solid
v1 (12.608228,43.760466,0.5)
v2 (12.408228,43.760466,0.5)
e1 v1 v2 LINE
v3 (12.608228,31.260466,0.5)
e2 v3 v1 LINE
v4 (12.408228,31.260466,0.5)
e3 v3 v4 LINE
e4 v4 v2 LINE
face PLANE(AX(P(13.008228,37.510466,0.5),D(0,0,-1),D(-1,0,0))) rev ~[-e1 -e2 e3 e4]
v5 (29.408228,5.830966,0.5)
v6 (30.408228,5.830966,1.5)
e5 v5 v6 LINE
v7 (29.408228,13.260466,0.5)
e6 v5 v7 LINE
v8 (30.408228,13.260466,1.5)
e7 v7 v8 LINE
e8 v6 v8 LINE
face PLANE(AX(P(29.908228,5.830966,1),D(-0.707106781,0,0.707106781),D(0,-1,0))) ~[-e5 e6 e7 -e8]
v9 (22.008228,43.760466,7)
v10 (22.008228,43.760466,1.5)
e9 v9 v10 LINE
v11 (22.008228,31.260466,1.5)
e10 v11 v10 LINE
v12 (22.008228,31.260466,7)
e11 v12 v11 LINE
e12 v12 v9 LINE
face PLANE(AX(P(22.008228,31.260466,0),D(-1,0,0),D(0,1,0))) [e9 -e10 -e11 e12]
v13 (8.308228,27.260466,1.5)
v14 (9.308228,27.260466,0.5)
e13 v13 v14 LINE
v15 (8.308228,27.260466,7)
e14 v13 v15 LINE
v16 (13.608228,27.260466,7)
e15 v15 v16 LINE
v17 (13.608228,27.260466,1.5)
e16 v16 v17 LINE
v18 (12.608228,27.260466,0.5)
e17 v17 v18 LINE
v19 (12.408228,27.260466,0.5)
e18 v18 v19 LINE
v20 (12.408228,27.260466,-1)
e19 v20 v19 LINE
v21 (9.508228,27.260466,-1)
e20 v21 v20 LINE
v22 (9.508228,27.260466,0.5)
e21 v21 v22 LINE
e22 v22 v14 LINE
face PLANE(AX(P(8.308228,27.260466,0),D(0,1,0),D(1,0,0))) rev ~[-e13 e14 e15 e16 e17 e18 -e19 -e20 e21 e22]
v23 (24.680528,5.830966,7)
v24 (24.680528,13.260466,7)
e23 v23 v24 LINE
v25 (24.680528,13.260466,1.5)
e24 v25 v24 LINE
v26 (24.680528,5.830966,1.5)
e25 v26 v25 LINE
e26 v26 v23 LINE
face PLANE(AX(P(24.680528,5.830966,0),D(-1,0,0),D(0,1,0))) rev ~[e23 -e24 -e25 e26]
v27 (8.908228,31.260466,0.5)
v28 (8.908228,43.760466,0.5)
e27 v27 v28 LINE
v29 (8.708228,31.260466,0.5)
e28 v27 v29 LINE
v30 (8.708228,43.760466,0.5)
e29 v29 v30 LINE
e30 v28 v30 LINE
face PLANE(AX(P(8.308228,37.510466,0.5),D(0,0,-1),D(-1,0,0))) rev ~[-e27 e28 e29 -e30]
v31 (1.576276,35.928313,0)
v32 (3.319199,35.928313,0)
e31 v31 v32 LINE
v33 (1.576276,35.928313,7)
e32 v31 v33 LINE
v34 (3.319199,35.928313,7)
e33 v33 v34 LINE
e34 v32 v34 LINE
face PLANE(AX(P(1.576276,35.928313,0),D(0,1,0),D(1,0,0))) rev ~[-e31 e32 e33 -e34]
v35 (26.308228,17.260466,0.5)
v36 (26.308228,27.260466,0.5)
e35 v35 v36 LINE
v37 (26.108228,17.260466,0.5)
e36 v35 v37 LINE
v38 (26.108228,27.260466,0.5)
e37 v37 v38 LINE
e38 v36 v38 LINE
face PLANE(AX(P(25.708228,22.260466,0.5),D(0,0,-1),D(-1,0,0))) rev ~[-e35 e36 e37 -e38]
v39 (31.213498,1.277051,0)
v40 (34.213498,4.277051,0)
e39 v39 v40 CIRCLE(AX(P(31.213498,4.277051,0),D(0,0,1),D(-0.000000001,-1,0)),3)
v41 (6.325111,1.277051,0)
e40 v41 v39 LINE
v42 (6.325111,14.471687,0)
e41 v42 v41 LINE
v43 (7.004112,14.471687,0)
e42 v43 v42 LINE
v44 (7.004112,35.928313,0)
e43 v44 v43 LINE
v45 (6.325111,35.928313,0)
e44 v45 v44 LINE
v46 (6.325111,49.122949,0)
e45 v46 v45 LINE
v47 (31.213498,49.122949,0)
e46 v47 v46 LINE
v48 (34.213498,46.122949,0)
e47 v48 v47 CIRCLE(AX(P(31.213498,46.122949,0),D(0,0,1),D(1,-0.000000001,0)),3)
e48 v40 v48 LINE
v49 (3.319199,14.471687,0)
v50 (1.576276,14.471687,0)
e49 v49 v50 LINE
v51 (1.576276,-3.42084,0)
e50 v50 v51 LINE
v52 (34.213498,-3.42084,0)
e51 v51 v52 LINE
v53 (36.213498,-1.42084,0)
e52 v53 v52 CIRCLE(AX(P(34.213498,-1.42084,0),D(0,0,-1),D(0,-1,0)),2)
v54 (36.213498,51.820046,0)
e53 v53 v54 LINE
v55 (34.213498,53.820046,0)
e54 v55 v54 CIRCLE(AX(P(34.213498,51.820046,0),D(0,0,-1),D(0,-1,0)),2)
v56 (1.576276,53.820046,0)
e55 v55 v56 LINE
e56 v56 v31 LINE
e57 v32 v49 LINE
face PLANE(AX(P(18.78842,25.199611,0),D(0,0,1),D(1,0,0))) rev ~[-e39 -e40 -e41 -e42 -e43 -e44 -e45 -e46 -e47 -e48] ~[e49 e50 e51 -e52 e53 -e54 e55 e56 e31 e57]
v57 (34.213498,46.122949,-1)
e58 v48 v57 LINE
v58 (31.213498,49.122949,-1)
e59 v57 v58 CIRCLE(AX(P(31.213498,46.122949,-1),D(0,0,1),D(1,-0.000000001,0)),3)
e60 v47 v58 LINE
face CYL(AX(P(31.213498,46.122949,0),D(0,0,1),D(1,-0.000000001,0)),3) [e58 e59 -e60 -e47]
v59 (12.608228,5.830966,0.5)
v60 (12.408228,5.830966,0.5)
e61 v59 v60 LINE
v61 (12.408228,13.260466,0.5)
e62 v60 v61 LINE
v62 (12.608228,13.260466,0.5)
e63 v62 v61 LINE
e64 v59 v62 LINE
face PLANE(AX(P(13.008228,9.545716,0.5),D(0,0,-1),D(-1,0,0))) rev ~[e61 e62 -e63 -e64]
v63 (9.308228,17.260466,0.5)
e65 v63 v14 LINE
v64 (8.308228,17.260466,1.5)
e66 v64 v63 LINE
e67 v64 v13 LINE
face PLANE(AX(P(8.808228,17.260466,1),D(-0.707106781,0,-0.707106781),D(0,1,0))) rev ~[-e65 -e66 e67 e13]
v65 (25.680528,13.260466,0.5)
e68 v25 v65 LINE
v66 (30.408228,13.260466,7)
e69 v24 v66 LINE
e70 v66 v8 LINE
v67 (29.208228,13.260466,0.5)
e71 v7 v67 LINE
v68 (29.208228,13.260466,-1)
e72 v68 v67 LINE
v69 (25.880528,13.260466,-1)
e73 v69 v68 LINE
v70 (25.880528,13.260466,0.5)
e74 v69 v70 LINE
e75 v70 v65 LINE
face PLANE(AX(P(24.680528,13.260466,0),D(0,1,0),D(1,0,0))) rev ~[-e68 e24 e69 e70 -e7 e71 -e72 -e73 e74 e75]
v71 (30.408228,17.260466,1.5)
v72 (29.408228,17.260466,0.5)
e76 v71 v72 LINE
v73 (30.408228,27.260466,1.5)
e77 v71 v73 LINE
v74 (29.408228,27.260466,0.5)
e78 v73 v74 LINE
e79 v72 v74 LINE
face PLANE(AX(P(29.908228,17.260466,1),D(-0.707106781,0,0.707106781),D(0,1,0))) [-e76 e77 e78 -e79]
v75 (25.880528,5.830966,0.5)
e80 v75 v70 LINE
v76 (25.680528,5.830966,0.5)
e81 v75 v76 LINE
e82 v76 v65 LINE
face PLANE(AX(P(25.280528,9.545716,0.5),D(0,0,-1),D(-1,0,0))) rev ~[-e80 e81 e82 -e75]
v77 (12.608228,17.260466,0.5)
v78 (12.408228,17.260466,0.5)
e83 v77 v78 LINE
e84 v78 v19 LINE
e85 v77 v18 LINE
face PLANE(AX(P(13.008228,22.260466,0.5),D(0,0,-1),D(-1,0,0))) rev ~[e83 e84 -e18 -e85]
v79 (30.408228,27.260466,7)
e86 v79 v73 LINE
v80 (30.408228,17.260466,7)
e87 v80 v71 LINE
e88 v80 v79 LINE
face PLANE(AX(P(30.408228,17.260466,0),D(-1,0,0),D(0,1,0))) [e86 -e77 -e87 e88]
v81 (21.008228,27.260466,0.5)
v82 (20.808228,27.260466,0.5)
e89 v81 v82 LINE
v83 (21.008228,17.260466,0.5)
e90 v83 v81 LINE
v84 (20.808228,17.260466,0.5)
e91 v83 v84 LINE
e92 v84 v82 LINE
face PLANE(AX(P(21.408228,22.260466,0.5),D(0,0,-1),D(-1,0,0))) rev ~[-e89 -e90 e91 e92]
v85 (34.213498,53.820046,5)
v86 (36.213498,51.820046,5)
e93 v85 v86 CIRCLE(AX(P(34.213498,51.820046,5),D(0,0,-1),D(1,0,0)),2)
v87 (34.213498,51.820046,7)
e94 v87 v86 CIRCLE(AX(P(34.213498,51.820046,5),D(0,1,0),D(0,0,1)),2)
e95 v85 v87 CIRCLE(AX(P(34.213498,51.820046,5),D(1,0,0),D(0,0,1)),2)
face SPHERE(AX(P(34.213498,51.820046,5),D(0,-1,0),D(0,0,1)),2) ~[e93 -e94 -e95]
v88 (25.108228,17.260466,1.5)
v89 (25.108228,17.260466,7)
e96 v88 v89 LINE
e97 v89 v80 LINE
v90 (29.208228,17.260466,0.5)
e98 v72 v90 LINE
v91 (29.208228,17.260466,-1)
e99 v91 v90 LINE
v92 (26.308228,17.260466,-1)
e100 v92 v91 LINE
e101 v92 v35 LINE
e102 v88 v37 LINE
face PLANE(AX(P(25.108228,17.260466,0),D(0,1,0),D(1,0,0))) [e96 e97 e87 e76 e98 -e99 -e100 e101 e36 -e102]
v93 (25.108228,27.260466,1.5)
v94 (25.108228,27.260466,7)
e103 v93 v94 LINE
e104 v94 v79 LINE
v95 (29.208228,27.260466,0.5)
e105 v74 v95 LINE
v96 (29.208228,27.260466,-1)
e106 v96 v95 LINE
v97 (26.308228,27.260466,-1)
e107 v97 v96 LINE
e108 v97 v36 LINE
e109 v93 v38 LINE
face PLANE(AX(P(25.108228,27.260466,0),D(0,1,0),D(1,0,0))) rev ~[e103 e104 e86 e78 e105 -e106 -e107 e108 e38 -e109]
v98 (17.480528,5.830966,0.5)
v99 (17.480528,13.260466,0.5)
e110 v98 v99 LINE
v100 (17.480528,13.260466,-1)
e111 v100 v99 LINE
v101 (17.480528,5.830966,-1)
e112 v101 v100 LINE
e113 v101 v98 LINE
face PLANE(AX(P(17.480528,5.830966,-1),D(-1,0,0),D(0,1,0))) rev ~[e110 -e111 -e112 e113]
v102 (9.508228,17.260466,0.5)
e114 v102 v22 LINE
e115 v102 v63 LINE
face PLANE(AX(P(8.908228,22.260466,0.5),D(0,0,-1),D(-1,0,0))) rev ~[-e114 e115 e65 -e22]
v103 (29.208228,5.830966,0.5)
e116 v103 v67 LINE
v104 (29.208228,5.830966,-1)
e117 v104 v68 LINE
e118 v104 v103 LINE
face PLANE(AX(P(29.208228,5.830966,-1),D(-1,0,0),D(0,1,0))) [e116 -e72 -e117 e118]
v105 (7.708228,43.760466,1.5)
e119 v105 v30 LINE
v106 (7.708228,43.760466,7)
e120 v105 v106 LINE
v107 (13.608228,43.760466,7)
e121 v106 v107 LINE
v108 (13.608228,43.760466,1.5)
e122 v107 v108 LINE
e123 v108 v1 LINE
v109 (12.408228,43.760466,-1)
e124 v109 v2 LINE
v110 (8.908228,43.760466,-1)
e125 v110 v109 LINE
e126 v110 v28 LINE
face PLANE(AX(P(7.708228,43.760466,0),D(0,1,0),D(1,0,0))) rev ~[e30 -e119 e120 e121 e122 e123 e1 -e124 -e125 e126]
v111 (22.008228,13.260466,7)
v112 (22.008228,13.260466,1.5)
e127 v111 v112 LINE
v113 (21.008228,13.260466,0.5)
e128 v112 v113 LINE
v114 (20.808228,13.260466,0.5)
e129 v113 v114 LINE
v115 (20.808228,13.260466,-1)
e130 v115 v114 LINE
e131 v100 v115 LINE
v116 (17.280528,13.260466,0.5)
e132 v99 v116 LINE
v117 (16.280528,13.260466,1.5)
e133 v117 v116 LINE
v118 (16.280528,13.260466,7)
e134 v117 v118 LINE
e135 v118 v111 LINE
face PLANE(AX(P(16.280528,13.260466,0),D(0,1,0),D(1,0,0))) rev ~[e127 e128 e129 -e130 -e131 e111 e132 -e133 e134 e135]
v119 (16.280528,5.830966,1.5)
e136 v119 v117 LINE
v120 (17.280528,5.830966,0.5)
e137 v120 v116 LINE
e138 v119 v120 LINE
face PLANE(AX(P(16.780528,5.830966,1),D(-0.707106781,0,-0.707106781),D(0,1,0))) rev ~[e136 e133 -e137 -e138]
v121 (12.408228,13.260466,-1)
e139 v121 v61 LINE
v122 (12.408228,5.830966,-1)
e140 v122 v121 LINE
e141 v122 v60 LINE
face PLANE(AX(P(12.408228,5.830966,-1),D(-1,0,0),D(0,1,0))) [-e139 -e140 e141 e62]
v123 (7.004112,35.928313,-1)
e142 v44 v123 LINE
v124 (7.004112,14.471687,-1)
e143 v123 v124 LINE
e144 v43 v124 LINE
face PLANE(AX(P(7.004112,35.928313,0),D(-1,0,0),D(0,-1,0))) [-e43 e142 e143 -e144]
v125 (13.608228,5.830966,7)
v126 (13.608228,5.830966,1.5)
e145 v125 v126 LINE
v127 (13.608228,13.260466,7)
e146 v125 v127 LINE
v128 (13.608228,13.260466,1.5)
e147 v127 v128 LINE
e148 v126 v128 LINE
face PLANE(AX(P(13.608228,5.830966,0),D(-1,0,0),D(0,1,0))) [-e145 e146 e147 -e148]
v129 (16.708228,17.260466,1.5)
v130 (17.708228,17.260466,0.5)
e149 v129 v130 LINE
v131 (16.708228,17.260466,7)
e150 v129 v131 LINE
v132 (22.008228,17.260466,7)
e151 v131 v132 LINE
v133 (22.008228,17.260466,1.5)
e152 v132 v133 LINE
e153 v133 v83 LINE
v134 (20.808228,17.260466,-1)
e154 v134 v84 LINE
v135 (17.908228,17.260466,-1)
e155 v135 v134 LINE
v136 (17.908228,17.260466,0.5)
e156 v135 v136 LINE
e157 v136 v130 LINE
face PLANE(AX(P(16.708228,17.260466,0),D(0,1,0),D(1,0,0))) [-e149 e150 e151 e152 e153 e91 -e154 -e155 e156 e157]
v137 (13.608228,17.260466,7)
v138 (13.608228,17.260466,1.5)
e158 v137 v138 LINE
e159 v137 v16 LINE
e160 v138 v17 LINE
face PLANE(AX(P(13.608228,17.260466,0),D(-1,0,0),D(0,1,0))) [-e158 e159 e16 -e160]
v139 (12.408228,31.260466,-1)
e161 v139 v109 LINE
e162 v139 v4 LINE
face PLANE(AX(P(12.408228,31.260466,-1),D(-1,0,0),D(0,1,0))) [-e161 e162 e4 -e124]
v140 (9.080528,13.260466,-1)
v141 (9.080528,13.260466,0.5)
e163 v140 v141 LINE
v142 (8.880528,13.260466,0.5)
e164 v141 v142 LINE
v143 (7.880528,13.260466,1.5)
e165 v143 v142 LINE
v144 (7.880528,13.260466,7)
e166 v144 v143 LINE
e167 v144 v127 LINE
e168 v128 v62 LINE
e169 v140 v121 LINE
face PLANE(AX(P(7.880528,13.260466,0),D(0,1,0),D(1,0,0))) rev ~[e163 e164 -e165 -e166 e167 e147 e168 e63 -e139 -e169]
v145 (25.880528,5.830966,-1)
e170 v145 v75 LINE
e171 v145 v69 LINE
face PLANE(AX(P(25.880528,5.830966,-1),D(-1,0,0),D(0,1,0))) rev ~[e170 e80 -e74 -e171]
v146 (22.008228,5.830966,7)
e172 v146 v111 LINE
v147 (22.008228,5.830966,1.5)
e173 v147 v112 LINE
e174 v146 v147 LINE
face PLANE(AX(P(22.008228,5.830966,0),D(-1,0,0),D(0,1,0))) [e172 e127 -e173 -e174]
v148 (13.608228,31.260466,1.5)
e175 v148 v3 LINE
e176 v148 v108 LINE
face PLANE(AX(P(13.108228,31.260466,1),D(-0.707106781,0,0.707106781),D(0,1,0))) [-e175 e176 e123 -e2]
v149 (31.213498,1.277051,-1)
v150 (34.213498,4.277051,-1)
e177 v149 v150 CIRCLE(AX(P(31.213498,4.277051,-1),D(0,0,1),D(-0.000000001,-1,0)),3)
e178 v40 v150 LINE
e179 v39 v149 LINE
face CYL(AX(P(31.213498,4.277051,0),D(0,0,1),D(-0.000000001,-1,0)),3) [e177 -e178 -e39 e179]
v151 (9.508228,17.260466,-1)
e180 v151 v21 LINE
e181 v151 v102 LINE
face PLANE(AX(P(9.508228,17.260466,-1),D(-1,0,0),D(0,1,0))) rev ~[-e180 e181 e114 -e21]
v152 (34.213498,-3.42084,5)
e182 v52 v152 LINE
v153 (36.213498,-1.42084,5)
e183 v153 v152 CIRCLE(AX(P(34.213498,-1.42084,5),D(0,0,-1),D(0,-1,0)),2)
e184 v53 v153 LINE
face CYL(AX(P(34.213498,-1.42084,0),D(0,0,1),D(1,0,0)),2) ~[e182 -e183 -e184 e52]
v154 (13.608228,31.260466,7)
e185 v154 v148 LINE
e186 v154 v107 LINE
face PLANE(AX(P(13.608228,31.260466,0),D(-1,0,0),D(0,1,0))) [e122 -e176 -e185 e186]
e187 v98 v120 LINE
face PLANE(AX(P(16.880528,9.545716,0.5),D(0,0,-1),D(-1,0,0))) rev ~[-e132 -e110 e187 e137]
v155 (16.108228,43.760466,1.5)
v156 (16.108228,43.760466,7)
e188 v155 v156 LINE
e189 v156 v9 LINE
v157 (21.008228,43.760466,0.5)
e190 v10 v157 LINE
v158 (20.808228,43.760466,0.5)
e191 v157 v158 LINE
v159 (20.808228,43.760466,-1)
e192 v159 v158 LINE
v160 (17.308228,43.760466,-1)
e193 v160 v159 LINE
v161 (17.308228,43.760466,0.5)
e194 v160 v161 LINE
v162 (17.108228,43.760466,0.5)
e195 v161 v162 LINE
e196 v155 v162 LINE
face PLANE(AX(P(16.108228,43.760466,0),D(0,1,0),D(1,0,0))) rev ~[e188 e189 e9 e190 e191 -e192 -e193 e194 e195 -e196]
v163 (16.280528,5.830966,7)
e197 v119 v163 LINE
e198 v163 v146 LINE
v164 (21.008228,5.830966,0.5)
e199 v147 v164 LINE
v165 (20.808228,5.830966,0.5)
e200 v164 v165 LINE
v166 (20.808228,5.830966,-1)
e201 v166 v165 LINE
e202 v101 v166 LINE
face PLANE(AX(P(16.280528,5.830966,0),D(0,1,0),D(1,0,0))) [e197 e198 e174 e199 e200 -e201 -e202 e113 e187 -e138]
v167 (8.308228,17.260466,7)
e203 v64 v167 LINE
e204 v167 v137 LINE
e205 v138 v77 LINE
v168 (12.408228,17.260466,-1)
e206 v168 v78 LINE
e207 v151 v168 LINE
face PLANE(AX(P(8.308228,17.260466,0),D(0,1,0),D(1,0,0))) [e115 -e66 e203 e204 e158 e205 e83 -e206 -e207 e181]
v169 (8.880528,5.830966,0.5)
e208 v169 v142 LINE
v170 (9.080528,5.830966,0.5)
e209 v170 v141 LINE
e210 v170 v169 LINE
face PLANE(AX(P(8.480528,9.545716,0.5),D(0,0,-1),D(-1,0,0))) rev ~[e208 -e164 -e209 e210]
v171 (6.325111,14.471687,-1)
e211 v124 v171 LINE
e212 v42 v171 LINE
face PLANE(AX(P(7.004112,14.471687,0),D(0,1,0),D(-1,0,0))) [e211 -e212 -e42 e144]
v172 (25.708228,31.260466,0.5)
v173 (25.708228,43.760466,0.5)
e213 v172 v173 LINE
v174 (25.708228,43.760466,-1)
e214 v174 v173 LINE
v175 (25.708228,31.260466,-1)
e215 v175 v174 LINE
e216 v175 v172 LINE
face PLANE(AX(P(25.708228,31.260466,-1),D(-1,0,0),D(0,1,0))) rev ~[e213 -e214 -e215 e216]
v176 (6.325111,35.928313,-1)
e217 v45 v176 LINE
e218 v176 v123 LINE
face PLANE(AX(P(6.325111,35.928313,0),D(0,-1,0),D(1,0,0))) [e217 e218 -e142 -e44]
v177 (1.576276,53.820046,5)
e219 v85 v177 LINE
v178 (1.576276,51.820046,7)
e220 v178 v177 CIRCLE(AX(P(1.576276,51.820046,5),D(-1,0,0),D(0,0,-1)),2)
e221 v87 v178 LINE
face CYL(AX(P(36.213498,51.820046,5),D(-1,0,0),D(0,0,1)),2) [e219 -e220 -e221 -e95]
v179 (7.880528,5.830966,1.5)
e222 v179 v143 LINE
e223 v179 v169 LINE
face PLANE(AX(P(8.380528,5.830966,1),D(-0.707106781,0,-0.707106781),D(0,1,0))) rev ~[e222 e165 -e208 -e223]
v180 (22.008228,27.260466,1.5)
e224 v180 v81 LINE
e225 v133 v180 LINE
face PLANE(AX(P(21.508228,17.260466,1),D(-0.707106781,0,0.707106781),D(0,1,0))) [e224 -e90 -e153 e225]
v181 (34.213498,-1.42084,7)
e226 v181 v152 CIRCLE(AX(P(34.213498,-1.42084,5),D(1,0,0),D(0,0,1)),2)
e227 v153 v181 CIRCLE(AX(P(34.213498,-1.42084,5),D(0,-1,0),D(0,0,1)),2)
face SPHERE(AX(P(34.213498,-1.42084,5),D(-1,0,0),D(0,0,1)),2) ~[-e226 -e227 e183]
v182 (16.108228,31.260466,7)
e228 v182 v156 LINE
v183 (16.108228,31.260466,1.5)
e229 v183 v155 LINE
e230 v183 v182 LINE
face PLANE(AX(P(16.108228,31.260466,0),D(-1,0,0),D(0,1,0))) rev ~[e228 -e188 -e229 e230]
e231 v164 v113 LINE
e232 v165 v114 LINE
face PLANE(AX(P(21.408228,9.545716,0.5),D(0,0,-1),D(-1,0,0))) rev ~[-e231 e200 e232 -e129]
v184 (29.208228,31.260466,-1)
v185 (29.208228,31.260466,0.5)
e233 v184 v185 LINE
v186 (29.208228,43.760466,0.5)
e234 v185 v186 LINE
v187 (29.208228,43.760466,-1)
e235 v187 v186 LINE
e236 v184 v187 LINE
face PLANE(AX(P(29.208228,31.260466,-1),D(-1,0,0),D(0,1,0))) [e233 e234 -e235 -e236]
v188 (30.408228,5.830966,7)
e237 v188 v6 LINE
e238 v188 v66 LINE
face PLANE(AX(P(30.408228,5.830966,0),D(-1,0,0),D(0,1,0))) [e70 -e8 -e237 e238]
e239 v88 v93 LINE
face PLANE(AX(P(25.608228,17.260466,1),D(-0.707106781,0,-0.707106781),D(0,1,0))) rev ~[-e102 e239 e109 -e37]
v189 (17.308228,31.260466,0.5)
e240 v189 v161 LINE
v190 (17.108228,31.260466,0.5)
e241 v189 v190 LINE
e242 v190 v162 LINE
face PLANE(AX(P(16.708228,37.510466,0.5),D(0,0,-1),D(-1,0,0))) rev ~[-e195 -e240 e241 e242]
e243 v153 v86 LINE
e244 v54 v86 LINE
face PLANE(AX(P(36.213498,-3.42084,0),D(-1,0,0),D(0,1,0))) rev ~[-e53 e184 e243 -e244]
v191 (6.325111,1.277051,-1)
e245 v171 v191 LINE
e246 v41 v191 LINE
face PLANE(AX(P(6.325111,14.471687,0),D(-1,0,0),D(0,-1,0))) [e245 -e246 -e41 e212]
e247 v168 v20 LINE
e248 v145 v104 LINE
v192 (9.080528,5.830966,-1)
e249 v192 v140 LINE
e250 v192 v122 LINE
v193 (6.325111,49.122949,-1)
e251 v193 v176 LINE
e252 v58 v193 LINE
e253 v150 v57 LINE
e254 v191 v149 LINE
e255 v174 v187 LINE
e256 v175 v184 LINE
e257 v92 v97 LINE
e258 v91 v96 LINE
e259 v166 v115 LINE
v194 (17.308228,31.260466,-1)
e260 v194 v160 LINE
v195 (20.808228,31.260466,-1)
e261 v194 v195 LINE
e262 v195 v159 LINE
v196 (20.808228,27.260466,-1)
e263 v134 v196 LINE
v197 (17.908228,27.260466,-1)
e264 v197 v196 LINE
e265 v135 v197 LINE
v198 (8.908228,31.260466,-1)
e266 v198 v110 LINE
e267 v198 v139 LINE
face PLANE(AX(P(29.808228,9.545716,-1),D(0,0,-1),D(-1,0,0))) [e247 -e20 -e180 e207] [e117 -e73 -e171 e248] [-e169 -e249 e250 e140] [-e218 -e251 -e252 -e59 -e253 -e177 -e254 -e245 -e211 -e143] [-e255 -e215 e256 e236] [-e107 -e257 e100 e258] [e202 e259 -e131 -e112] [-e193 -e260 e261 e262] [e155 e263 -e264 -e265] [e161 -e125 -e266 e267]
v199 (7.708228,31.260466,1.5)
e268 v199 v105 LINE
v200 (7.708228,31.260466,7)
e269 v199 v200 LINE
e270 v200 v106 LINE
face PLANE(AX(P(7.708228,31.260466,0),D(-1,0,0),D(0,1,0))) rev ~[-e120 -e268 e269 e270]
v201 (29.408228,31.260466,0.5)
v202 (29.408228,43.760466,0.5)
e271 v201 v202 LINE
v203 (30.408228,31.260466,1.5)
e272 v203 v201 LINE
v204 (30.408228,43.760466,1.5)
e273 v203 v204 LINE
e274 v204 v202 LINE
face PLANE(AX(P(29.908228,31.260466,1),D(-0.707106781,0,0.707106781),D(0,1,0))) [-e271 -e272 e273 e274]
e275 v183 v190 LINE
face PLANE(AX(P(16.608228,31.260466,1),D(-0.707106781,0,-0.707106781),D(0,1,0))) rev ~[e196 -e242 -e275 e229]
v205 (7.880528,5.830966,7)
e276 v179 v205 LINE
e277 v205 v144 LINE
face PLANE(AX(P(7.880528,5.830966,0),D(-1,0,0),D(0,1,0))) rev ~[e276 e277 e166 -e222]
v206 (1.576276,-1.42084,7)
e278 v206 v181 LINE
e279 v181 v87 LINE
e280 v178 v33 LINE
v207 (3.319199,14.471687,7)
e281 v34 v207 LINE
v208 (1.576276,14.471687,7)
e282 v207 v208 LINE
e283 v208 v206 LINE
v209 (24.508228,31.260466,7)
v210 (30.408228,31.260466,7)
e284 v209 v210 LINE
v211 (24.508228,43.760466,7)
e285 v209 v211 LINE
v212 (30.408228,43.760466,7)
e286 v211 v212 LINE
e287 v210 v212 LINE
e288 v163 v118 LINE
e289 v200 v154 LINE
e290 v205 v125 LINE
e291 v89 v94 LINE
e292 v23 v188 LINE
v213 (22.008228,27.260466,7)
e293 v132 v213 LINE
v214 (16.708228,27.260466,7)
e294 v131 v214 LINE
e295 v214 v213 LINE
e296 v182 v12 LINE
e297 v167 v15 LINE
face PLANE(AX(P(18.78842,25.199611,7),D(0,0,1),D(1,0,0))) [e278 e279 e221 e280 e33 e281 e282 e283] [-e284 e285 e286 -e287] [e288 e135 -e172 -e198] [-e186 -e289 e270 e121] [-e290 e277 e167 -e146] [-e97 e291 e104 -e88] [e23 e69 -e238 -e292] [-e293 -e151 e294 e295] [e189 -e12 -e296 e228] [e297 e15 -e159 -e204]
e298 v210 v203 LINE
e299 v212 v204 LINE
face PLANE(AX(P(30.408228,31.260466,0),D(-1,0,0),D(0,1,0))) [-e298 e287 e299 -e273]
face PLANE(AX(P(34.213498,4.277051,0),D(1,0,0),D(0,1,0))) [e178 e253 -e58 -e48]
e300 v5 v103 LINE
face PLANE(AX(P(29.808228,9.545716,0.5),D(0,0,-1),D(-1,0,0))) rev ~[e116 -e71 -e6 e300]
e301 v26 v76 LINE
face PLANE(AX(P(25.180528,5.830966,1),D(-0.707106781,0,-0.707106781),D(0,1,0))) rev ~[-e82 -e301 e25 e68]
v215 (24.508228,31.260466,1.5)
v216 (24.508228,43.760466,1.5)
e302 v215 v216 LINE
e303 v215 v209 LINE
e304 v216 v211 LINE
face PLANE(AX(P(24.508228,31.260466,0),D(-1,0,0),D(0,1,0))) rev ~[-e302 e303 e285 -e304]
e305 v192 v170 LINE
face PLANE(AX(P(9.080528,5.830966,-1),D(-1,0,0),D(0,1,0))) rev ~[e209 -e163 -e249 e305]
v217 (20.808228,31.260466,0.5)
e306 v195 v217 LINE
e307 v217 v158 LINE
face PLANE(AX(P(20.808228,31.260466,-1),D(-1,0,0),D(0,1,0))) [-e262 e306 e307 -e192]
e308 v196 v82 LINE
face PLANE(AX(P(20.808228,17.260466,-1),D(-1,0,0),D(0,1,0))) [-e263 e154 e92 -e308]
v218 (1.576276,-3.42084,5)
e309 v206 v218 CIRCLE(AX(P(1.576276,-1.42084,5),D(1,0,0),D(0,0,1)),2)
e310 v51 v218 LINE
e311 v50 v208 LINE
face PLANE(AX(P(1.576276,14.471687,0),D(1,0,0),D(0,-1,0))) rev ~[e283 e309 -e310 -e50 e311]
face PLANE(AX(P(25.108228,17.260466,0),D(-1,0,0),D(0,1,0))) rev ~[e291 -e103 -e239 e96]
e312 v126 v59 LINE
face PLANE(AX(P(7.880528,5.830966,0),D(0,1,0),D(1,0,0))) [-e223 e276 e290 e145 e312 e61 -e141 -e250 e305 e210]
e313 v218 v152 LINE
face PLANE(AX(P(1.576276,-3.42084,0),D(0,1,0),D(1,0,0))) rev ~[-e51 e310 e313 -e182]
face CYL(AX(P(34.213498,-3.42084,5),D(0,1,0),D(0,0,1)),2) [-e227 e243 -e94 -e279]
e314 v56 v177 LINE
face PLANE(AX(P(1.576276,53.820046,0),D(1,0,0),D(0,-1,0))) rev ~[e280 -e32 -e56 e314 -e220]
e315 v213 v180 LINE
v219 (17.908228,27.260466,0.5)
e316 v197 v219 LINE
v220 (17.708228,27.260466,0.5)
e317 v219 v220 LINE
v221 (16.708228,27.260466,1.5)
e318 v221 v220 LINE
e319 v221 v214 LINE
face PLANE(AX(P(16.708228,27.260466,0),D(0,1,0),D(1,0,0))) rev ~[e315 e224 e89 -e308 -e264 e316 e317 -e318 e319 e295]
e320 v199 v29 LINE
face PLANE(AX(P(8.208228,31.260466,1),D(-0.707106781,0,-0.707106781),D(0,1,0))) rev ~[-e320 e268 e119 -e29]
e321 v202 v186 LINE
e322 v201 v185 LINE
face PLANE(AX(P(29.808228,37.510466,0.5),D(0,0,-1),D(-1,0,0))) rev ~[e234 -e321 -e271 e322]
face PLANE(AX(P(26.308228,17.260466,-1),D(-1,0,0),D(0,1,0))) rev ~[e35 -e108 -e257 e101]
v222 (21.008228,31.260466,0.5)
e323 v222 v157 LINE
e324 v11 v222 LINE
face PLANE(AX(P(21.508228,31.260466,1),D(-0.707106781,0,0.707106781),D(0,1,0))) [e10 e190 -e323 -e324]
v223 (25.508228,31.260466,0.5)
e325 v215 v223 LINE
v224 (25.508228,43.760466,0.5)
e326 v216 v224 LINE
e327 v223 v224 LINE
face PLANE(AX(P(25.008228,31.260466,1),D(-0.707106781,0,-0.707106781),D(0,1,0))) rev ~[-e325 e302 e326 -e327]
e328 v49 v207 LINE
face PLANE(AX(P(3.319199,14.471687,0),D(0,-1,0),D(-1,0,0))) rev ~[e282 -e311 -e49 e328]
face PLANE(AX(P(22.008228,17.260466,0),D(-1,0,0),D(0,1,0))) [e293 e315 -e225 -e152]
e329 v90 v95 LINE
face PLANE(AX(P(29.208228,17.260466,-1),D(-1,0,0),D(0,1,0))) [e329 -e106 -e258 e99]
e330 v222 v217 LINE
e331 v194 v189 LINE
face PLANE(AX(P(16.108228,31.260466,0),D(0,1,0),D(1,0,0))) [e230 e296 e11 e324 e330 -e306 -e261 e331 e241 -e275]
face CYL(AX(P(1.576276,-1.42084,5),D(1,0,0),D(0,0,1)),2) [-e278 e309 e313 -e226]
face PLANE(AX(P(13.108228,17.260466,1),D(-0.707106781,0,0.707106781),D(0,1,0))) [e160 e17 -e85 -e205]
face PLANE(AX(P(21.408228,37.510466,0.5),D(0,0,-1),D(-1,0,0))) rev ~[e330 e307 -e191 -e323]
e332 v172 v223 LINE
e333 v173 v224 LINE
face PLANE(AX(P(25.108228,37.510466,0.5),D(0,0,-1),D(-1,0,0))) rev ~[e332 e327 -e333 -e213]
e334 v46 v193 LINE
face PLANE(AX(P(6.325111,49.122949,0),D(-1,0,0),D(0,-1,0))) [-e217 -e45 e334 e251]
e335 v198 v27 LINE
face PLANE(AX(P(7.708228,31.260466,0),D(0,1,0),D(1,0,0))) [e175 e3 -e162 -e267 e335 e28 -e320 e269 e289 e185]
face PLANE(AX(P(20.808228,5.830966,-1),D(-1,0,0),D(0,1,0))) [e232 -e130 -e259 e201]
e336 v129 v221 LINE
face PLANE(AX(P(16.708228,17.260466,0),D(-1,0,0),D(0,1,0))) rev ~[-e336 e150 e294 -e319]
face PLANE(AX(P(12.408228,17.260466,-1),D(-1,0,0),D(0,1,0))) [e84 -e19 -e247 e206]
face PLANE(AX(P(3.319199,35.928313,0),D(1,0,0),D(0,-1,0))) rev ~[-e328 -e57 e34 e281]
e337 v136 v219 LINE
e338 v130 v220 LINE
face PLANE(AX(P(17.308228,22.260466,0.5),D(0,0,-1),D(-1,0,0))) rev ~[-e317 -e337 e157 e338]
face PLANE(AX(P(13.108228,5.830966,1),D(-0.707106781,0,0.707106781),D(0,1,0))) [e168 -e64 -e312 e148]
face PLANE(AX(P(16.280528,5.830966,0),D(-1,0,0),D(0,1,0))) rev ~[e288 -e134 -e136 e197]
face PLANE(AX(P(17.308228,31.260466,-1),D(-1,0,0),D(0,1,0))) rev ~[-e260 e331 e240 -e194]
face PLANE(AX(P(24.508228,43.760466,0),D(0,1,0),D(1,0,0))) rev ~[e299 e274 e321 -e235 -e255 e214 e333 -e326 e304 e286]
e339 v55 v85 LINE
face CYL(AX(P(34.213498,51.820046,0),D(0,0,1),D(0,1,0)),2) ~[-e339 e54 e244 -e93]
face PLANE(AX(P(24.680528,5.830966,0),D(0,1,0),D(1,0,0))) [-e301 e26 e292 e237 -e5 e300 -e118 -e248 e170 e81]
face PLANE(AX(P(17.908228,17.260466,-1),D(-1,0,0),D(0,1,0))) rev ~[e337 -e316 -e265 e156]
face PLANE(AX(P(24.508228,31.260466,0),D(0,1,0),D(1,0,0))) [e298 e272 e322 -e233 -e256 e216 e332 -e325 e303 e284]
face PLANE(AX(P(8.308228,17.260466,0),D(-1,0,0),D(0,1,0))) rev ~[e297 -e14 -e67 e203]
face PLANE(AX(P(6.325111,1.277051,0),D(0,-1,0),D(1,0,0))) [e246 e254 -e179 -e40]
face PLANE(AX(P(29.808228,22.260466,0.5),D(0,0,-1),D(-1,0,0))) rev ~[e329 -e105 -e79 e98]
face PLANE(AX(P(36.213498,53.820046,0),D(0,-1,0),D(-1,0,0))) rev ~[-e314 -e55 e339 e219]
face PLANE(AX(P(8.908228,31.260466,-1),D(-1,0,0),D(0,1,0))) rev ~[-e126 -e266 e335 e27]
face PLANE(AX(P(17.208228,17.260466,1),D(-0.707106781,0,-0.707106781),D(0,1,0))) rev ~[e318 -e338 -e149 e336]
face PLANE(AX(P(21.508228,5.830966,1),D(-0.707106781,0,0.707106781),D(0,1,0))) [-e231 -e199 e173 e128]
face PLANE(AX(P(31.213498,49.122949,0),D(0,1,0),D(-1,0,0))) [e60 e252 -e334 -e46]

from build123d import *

# Parameters (mm, degrees)
CROQUIS1_W              = 5.9
CROQUIS1_H              = 12.5
CROQUIS1_W_2            = 5.3
CROQUIS1_H_2            = 10
CROQUIS1_W_3            = 5.7277
CROQUIS1_H_3            = 7.4295
SALIENTE_EXTRUIR1_DEPTH = 1
CROQUIS2_W              = 5.9
CROQUIS2_H              = 12.5
CROQUIS2_W_2            = 5.3
CROQUIS2_H_2            = 10
CROQUIS2_W_3            = 5.7277
CROQUIS2_H_3            = 7.4295
SALIENTE_EXTRUIR2_DEPTH = 7
CROQUIS3_W              = 1.2
CROQUIS3_H              = 7.4295
CROQUIS3_H_2            = 10
CROQUIS3_H_3            = 12.5
SALIENTE_EXTRUIR3_DEPTH = 1.5
CHAFL_N1_SIZE           = 1
REDONDEO1_R             = 2


with BuildPart() as part:
    # Croquis1 → Saliente-Extruir1 (new body)
    with BuildSketch(Plane.XY):
        with BuildLine():
            Line((6.325110646, 1.27705094), (31.213497595, 1.27705094))
            ThreePointArc((31.213497595, 1.27705094), (33.334817939, 2.155730596), (34.213497595, 4.27705094))
            Line((34.213497595, 4.27705094), (34.213497595, 46.12294906))
            ThreePointArc((34.213497595, 46.12294906), (33.334817939, 48.244269404), (31.213497595, 49.12294906))
            Line((31.213497595, 49.12294906), (6.325110646, 49.12294906))
            Line((6.325110646, 49.12294906), (6.325110646, 35.928313067))
            Line((6.325110646, 35.928313067), (7.004112389, 35.928313067))
            Line((7.004112389, 35.928313067), (7.004112389, 14.471686933))
            Line((7.004112389, 14.471686933), (6.325110646, 14.471686933))
            Line((6.325110646, 14.471686933), (6.325110646, 1.27705094))
        make_face()
        with Locations((27.45822767, 37.510466453)):
            Rectangle(CROQUIS1_W, CROQUIS1_H, mode=Mode.SUBTRACT)
        with Locations((27.75822767, 22.260466453)):
            Rectangle(CROQUIS1_W_2, CROQUIS1_H_2, mode=Mode.SUBTRACT)
        with Locations((27.54437767, 9.545716453)):
            Rectangle(CROQUIS1_W_3, CROQUIS1_H_3, mode=Mode.SUBTRACT)
        with Locations((19.05822767, 37.510466453)):
            Rectangle(CROQUIS1_W, CROQUIS1_H, mode=Mode.SUBTRACT)
        with Locations((19.35822767, 22.260466453)):
            Rectangle(CROQUIS1_W_2, CROQUIS1_H_2, mode=Mode.SUBTRACT)
        with Locations((19.14437767, 9.545716453)):
            Rectangle(CROQUIS1_W_3, CROQUIS1_H_3, mode=Mode.SUBTRACT)
        with Locations((10.65822767, 37.510466453)):
            Rectangle(CROQUIS1_W, CROQUIS1_H, mode=Mode.SUBTRACT)
        with Locations((10.95822767, 22.260466453)):
            Rectangle(CROQUIS1_W_2, CROQUIS1_H_2, mode=Mode.SUBTRACT)
        with Locations((10.74437767, 9.545716453)):
            Rectangle(CROQUIS1_W_3, CROQUIS1_H_3, mode=Mode.SUBTRACT)
    extrude(amount=-SALIENTE_EXTRUIR1_DEPTH)

    # Croquis2 → Saliente-Extruir2 (add)
    with BuildSketch(Plane.XY):
        Polygon((36.213497595, 53.820046244), (1.576275643, 53.820046244), (1.576275643, 35.928313067), (3.319198905, 35.928313067), (3.319198905, 14.471686933), (1.576275643, 14.471686933), (1.576275643, -3.420839566), (36.213497595, -3.420839566), align=None)
        with Locations((27.45822767, 37.510466453)):
            Rectangle(CROQUIS2_W, CROQUIS2_H, mode=Mode.SUBTRACT)
        with Locations((27.75822767, 22.260466453)):
            Rectangle(CROQUIS2_W_2, CROQUIS2_H_2, mode=Mode.SUBTRACT)
        with Locations((27.54437767, 9.545716453)):
            Rectangle(CROQUIS2_W_3, CROQUIS2_H_3, mode=Mode.SUBTRACT)
        with Locations((19.14437767, 9.545716453)):
            Rectangle(CROQUIS2_W_3, CROQUIS2_H_3, mode=Mode.SUBTRACT)
        with Locations((19.35822767, 22.260466453)):
            Rectangle(CROQUIS2_W_2, CROQUIS2_H_2, mode=Mode.SUBTRACT)
        with Locations((19.05822767, 37.510466453)):
            Rectangle(CROQUIS2_W, CROQUIS2_H, mode=Mode.SUBTRACT)
        with Locations((10.65822767, 37.510466453)):
            Rectangle(CROQUIS2_W, CROQUIS2_H, mode=Mode.SUBTRACT)
        with Locations((10.95822767, 22.260466453)):
            Rectangle(CROQUIS2_W_2, CROQUIS2_H_2, mode=Mode.SUBTRACT)
        with Locations((10.74437767, 9.545716453)):
            Rectangle(CROQUIS2_W_3, CROQUIS2_H_3, mode=Mode.SUBTRACT)
    extrude(amount=SALIENTE_EXTRUIR2_DEPTH)

    # Croquis3 → Saliente-Extruir3 (add)
    with BuildSketch(Plane(origin=(0, 0, -1), x_dir=(-1, 0, 0), z_dir=(0, 0, -1))):
        with Locations((-29.80822767, 9.545716453)):
            Rectangle(CROQUIS3_W, CROQUIS3_H)
        with Locations((-21.40822767, 9.545716453)):
            Rectangle(CROQUIS3_W, CROQUIS3_H)
        with Locations((-25.28052767, 9.545716453)):
            Rectangle(CROQUIS3_W, CROQUIS3_H)
        with Locations((-16.88052767, 9.545716453)):
            Rectangle(CROQUIS3_W, CROQUIS3_H)
        with Locations((-13.00822767, 9.545716453)):
            Rectangle(CROQUIS3_W, CROQUIS3_H)
        with Locations((-8.48052767, 9.545716453)):
            Rectangle(CROQUIS3_W, CROQUIS3_H)
        with Locations((-29.80822767, 22.260466453)):
            Rectangle(CROQUIS3_W, CROQUIS3_H_2)
        with Locations((-21.40822767, 22.260466453)):
            Rectangle(CROQUIS3_W, CROQUIS3_H_2)
        with Locations((-25.70822767, 22.260466453)):
            Rectangle(CROQUIS3_W, CROQUIS3_H_2)
        with Locations((-17.30822767, 22.260466453)):
            Rectangle(CROQUIS3_W, CROQUIS3_H_2)
        with Locations((-13.00822767, 22.260466453)):
            Rectangle(CROQUIS3_W, CROQUIS3_H_2)
        with Locations((-8.90822767, 22.260466453)):
            Rectangle(CROQUIS3_W, CROQUIS3_H_2)
        with Locations((-29.80822767, 37.510466453)):
            Rectangle(CROQUIS3_W, CROQUIS3_H_3)
        with Locations((-25.10822767, 37.510466453)):
            Rectangle(CROQUIS3_W, CROQUIS3_H_3)
        with Locations((-21.40822767, 37.510466453)):
            Rectangle(CROQUIS3_W, CROQUIS3_H_3)
        with Locations((-16.70822767, 37.510466453)):
            Rectangle(CROQUIS3_W, CROQUIS3_H_3)
        with Locations((-13.00822767, 37.510466453)):
            Rectangle(CROQUIS3_W, CROQUIS3_H_3)
        with Locations((-8.30822767, 37.510466453)):
            Rectangle(CROQUIS3_W, CROQUIS3_H_3)
    extrude(amount=-SALIENTE_EXTRUIR3_DEPTH)

    # Chaflán1
    chafl_n1_edges = [part.edges().sort_by_distance(p)[0] for p in [
        (30.40822767, 9.545716453, 0.5),
        (24.68052767, 9.545716453, 0.5),
        (22.00822767, 9.545716453, 0.5),
        (16.28052767, 9.545716453, 0.5),
        (13.60822767, 9.545716453, 0.5),
        (7.88052767, 9.545716453, 0.5),
        (30.40822767, 22.260466453, 0.5),
        (25.10822767, 22.260466453, 0.5),
        (22.00822767, 22.260466453, 0.5),
        (16.70822767, 22.260466453, 0.5),
        (13.60822767, 22.260466453, 0.5),
        (8.30822767, 22.260466453, 0.5),
        (30.40822767, 37.510466453, 0.5),
        (24.50822767, 37.510466453, 0.5),
        (22.00822767, 37.510466453, 0.5),
        (16.10822767, 37.510466453, 0.5),
        (13.60822767, 37.510466453, 0.5),
        (7.70822767, 37.510466453, 0.5),
    ]]
    chamfer(chafl_n1_edges, length=CHAFL_N1_SIZE)

    # Redondeo1
    redondeo1_edges = [part.edges().sort_by_distance(p)[0] for p in [
        (18.894886619, -3.420839566, 7),
        (36.213497595, 25.199603339, 7),
        (18.894886619, 53.820046244, 7),
        (36.213497595, -3.420839566, 3.5),
        (36.213497595, 53.820046244, 3.5),
    ]]
    fillet(redondeo1_edges, radius=REDONDEO1_R)


solid = part.part
